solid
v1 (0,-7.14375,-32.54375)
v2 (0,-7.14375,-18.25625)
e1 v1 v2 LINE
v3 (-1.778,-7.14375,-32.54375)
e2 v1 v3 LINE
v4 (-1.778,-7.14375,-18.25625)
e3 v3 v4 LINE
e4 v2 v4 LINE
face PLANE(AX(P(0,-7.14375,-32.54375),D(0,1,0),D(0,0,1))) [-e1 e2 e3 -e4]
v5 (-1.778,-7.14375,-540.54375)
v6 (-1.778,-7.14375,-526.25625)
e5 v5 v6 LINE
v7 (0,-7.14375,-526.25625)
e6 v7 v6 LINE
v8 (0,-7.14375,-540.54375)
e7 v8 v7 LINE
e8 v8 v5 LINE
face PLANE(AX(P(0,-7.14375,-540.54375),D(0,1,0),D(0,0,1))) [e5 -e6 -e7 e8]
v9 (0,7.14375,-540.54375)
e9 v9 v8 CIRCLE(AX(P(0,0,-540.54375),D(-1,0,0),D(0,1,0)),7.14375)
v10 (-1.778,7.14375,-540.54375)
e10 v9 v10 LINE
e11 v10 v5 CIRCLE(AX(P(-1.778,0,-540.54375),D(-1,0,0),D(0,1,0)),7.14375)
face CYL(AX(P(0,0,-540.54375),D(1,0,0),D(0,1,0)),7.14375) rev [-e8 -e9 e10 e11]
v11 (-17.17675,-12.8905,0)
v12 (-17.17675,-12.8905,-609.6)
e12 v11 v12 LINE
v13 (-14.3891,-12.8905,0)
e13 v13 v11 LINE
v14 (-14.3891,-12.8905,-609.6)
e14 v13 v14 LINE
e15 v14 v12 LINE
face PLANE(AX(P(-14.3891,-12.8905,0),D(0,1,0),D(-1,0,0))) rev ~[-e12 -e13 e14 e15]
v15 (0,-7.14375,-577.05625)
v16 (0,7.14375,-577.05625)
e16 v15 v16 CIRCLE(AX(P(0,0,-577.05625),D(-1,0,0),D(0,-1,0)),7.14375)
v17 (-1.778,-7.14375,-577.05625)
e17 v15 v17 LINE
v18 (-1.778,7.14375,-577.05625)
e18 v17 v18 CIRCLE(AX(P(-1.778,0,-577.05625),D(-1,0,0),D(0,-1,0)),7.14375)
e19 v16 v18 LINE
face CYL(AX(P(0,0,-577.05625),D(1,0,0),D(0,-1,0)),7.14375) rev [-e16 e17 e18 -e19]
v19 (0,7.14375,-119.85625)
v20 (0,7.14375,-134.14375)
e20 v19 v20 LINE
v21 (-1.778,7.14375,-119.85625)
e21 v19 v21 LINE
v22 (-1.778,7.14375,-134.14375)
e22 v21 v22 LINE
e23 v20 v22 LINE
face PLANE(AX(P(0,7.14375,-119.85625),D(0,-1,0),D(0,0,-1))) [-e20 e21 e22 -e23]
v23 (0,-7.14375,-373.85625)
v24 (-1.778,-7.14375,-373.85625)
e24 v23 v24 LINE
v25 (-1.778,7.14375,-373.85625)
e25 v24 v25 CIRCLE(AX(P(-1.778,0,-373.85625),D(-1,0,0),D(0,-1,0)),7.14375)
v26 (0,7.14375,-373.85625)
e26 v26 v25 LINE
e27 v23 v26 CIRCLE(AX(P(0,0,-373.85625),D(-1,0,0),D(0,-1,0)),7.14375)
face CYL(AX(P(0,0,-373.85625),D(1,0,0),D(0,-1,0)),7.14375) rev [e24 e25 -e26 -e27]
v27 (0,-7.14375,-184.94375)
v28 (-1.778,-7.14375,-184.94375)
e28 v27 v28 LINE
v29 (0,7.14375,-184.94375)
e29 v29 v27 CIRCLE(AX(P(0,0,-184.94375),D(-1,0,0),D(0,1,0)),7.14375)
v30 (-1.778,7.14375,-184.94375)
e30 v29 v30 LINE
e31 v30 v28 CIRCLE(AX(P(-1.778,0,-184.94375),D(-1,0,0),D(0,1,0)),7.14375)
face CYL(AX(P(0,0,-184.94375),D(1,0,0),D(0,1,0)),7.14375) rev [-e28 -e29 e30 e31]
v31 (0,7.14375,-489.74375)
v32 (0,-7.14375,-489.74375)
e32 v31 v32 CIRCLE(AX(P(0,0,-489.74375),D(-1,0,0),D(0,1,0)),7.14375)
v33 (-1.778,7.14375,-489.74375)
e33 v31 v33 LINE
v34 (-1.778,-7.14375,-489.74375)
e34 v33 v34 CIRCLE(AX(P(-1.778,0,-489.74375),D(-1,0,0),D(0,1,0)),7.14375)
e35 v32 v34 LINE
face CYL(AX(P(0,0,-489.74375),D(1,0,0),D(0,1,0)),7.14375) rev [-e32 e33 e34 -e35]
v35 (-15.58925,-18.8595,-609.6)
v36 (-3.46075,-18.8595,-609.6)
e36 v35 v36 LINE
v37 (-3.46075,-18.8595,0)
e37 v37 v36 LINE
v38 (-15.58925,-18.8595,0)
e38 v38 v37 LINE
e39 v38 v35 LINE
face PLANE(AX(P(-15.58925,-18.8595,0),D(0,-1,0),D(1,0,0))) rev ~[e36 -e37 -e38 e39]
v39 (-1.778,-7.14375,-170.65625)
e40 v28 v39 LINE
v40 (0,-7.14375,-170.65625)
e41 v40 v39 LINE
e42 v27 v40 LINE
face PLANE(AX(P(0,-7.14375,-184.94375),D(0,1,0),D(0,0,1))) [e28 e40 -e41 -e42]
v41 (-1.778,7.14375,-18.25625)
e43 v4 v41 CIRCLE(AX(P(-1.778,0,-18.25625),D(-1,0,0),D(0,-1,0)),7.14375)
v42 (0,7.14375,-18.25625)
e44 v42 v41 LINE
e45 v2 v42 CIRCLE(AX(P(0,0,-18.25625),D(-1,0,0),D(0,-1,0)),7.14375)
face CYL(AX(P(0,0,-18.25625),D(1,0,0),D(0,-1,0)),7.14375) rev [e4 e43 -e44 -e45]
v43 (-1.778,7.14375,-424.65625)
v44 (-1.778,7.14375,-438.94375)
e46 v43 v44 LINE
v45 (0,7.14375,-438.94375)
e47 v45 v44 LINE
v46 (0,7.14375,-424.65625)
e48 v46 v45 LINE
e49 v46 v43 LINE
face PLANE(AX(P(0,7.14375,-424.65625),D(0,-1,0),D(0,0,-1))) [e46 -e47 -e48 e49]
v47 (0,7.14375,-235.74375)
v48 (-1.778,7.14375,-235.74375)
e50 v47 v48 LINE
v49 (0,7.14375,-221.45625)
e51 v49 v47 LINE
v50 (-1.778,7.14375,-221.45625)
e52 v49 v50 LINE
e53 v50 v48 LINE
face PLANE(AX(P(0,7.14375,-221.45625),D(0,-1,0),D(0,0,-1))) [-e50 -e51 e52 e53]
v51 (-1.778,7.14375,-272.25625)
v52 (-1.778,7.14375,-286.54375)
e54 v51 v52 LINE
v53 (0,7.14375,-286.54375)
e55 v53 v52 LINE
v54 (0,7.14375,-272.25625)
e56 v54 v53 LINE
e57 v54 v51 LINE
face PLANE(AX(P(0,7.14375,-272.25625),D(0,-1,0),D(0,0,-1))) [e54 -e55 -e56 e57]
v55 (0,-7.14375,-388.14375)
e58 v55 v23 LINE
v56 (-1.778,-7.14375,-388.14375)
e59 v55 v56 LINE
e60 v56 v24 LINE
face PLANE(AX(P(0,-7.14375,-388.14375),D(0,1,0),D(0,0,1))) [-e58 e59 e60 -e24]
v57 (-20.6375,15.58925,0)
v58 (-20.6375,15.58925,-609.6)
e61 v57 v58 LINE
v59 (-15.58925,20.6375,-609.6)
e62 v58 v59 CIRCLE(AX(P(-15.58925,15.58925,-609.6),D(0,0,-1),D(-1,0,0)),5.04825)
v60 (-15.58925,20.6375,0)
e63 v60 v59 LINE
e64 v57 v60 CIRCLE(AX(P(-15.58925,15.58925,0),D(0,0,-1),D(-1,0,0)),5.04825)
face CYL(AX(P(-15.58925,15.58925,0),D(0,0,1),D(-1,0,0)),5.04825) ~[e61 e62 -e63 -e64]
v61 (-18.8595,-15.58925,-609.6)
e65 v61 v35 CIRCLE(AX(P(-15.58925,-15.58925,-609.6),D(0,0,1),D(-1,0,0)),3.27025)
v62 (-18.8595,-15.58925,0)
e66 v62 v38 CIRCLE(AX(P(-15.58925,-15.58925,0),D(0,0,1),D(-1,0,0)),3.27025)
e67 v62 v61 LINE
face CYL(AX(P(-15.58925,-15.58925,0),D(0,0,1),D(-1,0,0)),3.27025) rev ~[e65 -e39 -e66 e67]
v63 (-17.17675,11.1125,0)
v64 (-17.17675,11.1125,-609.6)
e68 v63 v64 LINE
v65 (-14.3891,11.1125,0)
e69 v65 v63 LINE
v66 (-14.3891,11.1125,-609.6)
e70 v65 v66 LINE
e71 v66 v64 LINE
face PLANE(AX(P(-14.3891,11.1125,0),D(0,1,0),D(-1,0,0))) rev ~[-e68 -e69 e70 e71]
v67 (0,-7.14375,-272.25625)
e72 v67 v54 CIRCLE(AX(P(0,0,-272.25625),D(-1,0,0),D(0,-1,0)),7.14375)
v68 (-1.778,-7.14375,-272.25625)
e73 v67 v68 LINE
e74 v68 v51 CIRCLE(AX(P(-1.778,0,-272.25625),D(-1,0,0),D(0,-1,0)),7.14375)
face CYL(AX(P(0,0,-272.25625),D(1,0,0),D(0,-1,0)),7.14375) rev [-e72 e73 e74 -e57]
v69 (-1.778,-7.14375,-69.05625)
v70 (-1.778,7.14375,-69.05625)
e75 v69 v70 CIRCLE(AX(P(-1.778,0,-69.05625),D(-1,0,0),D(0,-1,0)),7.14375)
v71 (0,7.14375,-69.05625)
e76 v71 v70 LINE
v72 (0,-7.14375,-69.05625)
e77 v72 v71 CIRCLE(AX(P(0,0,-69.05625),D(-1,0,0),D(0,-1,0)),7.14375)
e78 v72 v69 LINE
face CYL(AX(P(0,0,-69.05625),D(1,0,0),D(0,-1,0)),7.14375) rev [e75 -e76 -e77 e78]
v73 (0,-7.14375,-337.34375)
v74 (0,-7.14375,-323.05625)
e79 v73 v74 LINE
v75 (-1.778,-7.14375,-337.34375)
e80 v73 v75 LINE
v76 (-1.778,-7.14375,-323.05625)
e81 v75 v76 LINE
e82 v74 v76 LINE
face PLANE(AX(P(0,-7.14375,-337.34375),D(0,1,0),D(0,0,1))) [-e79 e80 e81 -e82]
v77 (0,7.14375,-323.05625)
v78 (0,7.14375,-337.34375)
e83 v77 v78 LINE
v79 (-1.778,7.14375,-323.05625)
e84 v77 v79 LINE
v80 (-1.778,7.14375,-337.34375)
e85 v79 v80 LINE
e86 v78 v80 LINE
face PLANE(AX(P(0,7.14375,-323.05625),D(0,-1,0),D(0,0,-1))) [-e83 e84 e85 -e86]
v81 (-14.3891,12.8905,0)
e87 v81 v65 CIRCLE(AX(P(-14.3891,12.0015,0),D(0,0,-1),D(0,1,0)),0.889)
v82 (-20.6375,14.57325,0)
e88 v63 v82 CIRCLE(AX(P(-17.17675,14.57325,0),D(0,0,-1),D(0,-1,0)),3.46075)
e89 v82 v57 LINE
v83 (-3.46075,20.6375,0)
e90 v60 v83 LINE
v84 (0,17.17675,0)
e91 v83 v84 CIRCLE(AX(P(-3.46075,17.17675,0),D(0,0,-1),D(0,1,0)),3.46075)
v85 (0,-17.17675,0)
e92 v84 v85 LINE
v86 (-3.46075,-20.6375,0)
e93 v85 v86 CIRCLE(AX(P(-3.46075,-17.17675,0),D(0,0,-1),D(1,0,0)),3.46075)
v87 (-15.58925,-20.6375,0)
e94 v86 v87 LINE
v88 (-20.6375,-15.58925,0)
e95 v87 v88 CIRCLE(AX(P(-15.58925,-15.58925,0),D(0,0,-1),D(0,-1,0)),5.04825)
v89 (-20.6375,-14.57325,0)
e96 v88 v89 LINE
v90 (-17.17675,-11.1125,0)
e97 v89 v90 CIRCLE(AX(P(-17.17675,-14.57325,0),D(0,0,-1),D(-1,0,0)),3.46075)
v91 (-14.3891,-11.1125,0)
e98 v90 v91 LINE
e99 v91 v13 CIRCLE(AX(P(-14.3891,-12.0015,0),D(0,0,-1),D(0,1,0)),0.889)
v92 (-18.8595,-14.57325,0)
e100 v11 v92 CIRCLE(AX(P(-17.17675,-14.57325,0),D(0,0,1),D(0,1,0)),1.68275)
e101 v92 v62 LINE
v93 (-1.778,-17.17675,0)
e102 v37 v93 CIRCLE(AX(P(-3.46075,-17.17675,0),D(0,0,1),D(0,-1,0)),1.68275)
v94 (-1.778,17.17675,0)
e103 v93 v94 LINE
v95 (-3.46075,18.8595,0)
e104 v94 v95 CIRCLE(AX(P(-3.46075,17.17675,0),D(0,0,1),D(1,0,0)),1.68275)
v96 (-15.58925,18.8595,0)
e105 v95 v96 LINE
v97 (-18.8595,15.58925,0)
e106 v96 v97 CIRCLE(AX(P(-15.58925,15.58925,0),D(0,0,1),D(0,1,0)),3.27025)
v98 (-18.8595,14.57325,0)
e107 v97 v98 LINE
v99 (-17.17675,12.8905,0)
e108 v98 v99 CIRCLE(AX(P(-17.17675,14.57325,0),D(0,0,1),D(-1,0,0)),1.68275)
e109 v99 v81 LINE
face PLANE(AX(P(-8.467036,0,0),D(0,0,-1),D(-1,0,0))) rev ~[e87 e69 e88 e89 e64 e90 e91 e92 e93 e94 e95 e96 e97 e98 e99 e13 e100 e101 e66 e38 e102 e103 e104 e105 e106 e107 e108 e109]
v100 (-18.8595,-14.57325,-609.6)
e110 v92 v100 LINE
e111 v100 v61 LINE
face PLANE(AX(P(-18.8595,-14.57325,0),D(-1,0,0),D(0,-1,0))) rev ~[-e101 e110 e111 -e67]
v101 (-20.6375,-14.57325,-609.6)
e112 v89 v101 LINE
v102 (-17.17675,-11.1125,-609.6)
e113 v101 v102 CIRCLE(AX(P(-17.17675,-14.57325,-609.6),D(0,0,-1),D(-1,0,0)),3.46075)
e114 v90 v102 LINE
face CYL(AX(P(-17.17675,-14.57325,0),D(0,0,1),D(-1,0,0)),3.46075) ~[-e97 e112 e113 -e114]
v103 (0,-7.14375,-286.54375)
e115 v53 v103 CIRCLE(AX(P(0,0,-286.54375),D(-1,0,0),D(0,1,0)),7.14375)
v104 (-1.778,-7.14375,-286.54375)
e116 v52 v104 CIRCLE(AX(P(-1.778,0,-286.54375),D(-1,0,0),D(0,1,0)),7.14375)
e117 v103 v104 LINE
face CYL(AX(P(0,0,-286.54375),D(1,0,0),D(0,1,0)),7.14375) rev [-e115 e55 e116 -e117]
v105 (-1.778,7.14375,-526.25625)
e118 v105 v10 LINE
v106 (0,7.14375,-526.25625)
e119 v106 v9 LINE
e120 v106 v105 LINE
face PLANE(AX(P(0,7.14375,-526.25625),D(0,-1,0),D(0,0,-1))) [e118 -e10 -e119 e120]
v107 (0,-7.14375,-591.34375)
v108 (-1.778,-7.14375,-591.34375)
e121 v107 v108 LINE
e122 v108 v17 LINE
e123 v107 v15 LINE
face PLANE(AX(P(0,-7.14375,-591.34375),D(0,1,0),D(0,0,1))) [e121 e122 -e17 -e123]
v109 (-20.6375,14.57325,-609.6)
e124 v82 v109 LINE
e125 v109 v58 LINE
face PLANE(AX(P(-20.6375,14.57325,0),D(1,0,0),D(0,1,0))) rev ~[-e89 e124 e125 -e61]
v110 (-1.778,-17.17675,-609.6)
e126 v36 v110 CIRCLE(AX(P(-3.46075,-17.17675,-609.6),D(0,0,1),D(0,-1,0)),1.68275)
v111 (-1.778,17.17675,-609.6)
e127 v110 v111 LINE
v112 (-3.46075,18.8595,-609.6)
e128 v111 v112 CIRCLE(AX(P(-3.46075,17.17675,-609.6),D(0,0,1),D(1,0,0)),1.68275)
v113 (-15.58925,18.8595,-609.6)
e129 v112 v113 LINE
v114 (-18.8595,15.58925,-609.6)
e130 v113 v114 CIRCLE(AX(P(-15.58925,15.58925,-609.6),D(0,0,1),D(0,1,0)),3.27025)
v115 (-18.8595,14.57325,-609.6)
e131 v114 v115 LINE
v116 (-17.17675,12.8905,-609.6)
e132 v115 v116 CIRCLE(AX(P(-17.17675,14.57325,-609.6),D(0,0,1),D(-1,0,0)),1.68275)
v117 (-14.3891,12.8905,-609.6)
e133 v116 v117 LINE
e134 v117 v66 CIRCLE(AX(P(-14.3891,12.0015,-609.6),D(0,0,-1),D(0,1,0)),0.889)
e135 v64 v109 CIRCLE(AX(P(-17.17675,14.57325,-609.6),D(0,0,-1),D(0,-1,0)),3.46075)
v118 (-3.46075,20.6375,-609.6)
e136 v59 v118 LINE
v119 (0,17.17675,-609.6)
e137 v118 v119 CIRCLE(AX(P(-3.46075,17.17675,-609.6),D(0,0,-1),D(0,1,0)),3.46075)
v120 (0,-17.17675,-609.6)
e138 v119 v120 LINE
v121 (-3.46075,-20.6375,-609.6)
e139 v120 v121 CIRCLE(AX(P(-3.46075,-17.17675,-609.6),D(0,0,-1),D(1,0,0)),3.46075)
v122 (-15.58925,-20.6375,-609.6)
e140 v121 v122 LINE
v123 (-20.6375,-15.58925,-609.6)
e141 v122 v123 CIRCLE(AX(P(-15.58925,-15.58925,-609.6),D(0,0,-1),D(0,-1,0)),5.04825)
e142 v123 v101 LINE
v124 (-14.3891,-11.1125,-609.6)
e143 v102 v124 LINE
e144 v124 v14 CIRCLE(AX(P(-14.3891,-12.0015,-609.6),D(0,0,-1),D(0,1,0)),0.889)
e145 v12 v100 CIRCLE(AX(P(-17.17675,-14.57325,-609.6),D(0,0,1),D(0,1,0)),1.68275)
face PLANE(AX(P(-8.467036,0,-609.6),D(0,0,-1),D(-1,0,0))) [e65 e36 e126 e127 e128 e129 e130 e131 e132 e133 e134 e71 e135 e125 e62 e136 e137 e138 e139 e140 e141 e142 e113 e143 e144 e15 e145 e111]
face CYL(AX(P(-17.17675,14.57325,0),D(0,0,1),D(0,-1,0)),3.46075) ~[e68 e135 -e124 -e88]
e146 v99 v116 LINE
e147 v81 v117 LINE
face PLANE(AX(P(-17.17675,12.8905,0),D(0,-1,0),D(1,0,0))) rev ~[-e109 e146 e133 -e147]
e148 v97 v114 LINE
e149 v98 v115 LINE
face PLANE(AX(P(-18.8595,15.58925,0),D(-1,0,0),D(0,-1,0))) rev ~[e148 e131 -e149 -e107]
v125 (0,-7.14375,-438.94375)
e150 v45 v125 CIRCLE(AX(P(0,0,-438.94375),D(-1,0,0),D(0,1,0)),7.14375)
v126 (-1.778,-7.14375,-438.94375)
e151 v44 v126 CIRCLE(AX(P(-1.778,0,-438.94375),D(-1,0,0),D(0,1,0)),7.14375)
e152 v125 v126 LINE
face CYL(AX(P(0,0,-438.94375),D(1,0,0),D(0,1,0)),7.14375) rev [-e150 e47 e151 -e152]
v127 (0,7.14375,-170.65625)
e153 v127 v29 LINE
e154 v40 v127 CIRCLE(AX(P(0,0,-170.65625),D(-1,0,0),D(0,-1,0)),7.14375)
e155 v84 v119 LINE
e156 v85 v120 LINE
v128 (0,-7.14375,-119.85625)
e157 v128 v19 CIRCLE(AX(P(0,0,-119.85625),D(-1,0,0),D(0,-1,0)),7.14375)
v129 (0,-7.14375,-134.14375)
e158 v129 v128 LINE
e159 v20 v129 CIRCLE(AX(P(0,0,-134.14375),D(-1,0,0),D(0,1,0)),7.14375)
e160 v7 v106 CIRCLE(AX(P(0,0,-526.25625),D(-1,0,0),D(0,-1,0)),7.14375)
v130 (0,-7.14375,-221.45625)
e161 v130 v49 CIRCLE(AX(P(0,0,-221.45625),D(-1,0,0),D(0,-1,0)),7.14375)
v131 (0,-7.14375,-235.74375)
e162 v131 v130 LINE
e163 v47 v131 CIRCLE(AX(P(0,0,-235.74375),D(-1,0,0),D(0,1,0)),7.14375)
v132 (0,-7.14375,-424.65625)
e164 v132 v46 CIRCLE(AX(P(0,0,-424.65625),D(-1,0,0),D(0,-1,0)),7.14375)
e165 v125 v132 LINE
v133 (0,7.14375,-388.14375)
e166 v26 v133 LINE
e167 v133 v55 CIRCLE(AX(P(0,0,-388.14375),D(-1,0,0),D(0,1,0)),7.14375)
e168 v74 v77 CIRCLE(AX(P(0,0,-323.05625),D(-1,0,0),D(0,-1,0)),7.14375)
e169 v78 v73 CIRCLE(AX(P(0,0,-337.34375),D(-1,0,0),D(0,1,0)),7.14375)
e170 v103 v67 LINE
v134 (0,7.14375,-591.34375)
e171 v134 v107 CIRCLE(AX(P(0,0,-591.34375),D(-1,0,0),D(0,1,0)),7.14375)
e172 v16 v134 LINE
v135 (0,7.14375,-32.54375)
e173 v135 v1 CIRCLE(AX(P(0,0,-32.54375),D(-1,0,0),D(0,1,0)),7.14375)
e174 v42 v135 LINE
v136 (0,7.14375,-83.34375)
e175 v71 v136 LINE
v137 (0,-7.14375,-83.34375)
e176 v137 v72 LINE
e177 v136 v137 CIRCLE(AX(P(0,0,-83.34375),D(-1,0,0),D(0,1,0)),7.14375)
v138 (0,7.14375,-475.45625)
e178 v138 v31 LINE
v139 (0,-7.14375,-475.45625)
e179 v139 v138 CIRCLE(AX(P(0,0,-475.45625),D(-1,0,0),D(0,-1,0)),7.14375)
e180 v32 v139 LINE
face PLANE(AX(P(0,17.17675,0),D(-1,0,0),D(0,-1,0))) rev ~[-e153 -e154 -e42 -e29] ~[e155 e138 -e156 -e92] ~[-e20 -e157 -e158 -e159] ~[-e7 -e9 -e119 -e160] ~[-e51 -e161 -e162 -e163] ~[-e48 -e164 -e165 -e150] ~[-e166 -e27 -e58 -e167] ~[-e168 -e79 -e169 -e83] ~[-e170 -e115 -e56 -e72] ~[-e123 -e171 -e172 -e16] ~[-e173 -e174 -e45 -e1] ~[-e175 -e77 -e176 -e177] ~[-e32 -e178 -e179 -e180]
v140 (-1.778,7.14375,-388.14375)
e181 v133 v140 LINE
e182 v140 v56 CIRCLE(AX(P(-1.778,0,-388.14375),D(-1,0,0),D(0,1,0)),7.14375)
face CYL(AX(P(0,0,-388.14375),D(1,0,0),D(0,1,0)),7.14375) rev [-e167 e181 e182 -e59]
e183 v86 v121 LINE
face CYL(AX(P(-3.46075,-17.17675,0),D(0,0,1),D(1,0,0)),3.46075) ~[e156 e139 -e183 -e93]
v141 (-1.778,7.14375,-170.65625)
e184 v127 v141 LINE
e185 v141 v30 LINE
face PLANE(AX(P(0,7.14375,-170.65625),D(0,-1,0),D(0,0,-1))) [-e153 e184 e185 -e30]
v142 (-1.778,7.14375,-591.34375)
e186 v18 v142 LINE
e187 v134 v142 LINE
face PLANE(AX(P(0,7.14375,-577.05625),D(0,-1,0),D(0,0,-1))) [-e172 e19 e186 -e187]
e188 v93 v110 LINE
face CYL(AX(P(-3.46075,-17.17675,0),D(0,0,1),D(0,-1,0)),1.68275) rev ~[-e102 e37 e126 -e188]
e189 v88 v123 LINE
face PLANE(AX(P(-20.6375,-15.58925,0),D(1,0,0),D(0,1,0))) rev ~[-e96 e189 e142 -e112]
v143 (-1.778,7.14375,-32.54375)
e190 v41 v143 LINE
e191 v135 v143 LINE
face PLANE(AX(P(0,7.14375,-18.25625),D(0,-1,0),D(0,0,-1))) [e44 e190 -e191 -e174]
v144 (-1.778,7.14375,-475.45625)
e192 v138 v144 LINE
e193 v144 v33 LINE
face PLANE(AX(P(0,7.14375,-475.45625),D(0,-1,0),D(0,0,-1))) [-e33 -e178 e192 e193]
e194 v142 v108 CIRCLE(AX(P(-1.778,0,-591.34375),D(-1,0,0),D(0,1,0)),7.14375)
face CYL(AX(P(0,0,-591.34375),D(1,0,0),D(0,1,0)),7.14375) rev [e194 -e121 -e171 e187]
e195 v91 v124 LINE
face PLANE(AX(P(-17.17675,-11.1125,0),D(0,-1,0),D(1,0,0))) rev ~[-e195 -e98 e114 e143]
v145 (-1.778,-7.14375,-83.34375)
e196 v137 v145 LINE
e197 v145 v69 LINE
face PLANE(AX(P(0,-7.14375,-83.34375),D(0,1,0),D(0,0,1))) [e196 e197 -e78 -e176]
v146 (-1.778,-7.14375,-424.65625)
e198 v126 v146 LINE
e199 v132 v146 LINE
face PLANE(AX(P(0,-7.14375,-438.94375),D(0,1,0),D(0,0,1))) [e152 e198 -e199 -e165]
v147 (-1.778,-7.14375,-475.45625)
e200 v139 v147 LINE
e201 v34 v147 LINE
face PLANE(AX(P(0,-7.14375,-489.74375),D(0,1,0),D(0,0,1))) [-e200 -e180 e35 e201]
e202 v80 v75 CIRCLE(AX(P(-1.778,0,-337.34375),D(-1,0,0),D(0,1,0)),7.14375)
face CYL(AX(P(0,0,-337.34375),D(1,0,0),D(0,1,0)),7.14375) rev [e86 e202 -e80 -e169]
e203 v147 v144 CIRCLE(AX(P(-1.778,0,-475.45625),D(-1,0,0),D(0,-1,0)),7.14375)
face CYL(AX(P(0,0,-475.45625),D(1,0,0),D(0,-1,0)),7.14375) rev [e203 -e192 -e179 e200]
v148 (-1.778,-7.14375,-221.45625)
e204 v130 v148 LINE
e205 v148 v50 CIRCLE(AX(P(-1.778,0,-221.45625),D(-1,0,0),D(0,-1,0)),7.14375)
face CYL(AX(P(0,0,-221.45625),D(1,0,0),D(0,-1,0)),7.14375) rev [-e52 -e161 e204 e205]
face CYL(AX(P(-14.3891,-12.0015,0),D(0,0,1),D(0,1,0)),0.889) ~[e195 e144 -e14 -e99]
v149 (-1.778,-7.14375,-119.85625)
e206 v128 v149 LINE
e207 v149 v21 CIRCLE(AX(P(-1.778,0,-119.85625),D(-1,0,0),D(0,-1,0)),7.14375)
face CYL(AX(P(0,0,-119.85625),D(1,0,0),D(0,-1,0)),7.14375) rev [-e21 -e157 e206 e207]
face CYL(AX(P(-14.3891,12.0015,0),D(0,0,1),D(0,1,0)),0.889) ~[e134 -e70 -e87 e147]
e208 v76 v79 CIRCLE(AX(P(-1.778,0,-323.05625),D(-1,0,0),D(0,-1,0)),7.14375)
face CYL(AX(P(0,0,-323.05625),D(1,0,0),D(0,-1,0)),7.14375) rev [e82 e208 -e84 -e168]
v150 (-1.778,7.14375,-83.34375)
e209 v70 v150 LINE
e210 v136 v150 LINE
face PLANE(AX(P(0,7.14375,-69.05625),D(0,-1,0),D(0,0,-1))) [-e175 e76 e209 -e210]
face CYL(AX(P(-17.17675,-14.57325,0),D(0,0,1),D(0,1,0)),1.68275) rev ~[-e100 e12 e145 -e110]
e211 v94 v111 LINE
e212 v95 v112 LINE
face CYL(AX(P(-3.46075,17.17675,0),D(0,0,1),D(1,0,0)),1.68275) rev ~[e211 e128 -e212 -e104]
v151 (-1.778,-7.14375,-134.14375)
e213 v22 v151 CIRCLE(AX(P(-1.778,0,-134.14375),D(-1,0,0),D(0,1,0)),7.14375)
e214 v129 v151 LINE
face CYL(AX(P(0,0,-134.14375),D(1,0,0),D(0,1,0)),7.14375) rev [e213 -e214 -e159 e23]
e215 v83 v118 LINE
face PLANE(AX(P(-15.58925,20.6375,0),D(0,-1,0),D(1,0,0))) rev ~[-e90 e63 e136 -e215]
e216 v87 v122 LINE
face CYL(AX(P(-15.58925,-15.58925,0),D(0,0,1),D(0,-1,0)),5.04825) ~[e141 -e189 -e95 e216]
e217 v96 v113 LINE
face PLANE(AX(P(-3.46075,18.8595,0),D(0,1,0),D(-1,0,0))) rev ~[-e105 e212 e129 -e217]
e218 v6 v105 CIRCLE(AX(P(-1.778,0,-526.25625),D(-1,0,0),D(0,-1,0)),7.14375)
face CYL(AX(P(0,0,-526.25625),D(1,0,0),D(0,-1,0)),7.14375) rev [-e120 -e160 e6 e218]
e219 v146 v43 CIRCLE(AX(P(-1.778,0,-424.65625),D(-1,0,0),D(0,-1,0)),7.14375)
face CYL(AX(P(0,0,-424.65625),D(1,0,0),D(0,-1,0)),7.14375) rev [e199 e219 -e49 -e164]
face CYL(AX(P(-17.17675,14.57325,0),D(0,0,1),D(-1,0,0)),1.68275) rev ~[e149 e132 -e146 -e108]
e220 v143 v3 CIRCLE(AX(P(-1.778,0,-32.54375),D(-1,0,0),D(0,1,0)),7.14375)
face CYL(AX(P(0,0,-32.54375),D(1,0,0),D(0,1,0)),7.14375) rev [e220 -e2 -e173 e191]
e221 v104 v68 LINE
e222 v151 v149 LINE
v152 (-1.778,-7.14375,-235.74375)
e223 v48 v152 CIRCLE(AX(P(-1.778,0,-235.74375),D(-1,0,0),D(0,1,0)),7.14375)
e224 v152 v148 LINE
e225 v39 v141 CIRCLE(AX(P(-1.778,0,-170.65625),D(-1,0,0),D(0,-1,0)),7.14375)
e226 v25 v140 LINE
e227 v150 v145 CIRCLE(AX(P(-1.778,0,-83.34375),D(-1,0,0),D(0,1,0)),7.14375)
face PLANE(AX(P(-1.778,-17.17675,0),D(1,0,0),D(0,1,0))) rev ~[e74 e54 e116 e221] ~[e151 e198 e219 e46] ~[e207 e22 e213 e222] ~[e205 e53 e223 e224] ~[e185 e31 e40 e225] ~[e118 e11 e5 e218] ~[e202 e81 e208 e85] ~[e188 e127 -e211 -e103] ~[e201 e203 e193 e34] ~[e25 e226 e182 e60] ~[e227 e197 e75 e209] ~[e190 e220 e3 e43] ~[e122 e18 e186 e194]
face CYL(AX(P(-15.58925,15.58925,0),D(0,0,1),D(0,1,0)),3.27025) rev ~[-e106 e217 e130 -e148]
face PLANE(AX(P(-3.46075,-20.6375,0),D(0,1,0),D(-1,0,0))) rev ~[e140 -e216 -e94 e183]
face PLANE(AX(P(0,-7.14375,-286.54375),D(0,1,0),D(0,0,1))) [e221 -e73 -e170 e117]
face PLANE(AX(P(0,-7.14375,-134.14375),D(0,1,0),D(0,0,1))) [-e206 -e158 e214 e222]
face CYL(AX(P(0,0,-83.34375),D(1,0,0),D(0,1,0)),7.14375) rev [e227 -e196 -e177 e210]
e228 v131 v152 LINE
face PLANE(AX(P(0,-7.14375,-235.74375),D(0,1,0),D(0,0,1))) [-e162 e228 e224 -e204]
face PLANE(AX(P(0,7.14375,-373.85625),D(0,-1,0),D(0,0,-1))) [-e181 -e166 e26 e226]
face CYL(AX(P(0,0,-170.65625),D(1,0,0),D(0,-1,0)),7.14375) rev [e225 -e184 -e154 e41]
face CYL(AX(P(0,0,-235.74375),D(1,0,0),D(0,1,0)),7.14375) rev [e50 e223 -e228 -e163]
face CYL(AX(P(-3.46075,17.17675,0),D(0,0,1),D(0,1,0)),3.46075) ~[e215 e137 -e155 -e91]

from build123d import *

# Parameters (mm, degrees)
BOSS_EXTRUDE1_DEPTH = 609.6
CUT_EXTRUDE1_DEPTH  = 1.778
LPATTERN1_COUNT     = 12
LPATTERN1_PITCH     = 50.8


with BuildPart() as part:
    # Sketch1 → Boss-Extrude1 (new body)
    with BuildSketch(Plane.XY):
        with BuildLine():
            Line((-15.58925, 20.6375), (-3.46075, 20.6375))
            ThreePointArc((-3.46075, 20.6375), (-1.013630207, 19.623869793), (0, 17.17675))
            Line((0, 17.17675), (0, -17.17675))
            ThreePointArc((0, -17.17675), (-1.013630207, -19.623869793), (-3.46075, -20.6375))
            Line((-3.46075, -20.6375), (-15.58925, -20.6375))
            ThreePointArc((-15.58925, -20.6375), (-19.158901808, -19.158901808), (-20.6375, -15.58925))
            Line((-20.6375, -15.58925), (-20.6375, -14.57325))
            ThreePointArc((-20.6375, -14.57325), (-19.623869793, -12.126130207), (-17.17675, -11.1125))
            Line((-17.17675, -11.1125), (-14.3891, -11.1125))
            ThreePointArc((-14.3891, -11.1125), (-13.5001, -12.0015), (-14.3891, -12.8905))
            Line((-14.3891, -12.8905), (-17.17675, -12.8905))
            ThreePointArc((-17.17675, -12.8905), (-18.366633936, -13.383366064), (-18.8595, -14.57325))
            Line((-18.8595, -14.57325), (-18.8595, -15.58925))
            ThreePointArc((-18.8595, -15.58925), (-17.901665951, -17.901665951), (-15.58925, -18.8595))
            Line((-15.58925, -18.8595), (-3.46075, -18.8595))
            ThreePointArc((-3.46075, -18.8595), (-2.270866064, -18.366633936), (-1.778, -17.17675))
            Line((-1.778, -17.17675), (-1.778, 17.17675))
            ThreePointArc((-1.778, 17.17675), (-2.270866064, 18.366633936), (-3.46075, 18.8595))
            Line((-3.46075, 18.8595), (-15.58925, 18.8595))
            ThreePointArc((-15.58925, 18.8595), (-17.901665951, 17.901665951), (-18.8595, 15.58925))
            Line((-18.8595, 15.58925), (-18.8595, 14.57325))
            ThreePointArc((-18.8595, 14.57325), (-18.366633936, 13.383366064), (-17.17675, 12.8905))
            Line((-17.17675, 12.8905), (-14.3891, 12.8905))
            ThreePointArc((-14.3891, 12.8905), (-13.5001, 12.0015), (-14.3891, 11.1125))
            Line((-14.3891, 11.1125), (-17.17675, 11.1125))
            ThreePointArc((-17.17675, 11.1125), (-19.623869793, 12.126130207), (-20.6375, 14.57325))
            Line((-20.6375, 14.57325), (-20.6375, 15.58925))
            ThreePointArc((-20.6375, 15.58925), (-19.158901808, 19.158901808), (-15.58925, 20.6375))
        make_face()
    extrude(amount=-BOSS_EXTRUDE1_DEPTH)

    # Sketch2 → Cut-Extrude1 (cut)
    with BuildSketch(Plane(origin=(0, 0, 0), x_dir=(0, 0, -1), z_dir=(1, 0, 0))):
        with BuildLine():
            Line((18.25625, 7.14375), (32.54375, 7.14375))
            ThreePointArc((32.54375, 7.14375), (39.6875, 0), (32.54375, -7.14375))
            Line((32.54375, -7.14375), (18.25625, -7.14375))
            ThreePointArc((18.25625, -7.14375), (11.1125, 0), (18.25625, 7.14375))
        make_face()
    cut_extrude1 = extrude(amount=-CUT_EXTRUDE1_DEPTH, mode=Mode.SUBTRACT)

    # LPattern1: Cut-Extrude1 ×12
    with Locations(*[(0, 0, -i * LPATTERN1_PITCH) for i in range(1, LPATTERN1_COUNT)]):
        add(cut_extrude1, mode=Mode.SUBTRACT)


solid = part.part
